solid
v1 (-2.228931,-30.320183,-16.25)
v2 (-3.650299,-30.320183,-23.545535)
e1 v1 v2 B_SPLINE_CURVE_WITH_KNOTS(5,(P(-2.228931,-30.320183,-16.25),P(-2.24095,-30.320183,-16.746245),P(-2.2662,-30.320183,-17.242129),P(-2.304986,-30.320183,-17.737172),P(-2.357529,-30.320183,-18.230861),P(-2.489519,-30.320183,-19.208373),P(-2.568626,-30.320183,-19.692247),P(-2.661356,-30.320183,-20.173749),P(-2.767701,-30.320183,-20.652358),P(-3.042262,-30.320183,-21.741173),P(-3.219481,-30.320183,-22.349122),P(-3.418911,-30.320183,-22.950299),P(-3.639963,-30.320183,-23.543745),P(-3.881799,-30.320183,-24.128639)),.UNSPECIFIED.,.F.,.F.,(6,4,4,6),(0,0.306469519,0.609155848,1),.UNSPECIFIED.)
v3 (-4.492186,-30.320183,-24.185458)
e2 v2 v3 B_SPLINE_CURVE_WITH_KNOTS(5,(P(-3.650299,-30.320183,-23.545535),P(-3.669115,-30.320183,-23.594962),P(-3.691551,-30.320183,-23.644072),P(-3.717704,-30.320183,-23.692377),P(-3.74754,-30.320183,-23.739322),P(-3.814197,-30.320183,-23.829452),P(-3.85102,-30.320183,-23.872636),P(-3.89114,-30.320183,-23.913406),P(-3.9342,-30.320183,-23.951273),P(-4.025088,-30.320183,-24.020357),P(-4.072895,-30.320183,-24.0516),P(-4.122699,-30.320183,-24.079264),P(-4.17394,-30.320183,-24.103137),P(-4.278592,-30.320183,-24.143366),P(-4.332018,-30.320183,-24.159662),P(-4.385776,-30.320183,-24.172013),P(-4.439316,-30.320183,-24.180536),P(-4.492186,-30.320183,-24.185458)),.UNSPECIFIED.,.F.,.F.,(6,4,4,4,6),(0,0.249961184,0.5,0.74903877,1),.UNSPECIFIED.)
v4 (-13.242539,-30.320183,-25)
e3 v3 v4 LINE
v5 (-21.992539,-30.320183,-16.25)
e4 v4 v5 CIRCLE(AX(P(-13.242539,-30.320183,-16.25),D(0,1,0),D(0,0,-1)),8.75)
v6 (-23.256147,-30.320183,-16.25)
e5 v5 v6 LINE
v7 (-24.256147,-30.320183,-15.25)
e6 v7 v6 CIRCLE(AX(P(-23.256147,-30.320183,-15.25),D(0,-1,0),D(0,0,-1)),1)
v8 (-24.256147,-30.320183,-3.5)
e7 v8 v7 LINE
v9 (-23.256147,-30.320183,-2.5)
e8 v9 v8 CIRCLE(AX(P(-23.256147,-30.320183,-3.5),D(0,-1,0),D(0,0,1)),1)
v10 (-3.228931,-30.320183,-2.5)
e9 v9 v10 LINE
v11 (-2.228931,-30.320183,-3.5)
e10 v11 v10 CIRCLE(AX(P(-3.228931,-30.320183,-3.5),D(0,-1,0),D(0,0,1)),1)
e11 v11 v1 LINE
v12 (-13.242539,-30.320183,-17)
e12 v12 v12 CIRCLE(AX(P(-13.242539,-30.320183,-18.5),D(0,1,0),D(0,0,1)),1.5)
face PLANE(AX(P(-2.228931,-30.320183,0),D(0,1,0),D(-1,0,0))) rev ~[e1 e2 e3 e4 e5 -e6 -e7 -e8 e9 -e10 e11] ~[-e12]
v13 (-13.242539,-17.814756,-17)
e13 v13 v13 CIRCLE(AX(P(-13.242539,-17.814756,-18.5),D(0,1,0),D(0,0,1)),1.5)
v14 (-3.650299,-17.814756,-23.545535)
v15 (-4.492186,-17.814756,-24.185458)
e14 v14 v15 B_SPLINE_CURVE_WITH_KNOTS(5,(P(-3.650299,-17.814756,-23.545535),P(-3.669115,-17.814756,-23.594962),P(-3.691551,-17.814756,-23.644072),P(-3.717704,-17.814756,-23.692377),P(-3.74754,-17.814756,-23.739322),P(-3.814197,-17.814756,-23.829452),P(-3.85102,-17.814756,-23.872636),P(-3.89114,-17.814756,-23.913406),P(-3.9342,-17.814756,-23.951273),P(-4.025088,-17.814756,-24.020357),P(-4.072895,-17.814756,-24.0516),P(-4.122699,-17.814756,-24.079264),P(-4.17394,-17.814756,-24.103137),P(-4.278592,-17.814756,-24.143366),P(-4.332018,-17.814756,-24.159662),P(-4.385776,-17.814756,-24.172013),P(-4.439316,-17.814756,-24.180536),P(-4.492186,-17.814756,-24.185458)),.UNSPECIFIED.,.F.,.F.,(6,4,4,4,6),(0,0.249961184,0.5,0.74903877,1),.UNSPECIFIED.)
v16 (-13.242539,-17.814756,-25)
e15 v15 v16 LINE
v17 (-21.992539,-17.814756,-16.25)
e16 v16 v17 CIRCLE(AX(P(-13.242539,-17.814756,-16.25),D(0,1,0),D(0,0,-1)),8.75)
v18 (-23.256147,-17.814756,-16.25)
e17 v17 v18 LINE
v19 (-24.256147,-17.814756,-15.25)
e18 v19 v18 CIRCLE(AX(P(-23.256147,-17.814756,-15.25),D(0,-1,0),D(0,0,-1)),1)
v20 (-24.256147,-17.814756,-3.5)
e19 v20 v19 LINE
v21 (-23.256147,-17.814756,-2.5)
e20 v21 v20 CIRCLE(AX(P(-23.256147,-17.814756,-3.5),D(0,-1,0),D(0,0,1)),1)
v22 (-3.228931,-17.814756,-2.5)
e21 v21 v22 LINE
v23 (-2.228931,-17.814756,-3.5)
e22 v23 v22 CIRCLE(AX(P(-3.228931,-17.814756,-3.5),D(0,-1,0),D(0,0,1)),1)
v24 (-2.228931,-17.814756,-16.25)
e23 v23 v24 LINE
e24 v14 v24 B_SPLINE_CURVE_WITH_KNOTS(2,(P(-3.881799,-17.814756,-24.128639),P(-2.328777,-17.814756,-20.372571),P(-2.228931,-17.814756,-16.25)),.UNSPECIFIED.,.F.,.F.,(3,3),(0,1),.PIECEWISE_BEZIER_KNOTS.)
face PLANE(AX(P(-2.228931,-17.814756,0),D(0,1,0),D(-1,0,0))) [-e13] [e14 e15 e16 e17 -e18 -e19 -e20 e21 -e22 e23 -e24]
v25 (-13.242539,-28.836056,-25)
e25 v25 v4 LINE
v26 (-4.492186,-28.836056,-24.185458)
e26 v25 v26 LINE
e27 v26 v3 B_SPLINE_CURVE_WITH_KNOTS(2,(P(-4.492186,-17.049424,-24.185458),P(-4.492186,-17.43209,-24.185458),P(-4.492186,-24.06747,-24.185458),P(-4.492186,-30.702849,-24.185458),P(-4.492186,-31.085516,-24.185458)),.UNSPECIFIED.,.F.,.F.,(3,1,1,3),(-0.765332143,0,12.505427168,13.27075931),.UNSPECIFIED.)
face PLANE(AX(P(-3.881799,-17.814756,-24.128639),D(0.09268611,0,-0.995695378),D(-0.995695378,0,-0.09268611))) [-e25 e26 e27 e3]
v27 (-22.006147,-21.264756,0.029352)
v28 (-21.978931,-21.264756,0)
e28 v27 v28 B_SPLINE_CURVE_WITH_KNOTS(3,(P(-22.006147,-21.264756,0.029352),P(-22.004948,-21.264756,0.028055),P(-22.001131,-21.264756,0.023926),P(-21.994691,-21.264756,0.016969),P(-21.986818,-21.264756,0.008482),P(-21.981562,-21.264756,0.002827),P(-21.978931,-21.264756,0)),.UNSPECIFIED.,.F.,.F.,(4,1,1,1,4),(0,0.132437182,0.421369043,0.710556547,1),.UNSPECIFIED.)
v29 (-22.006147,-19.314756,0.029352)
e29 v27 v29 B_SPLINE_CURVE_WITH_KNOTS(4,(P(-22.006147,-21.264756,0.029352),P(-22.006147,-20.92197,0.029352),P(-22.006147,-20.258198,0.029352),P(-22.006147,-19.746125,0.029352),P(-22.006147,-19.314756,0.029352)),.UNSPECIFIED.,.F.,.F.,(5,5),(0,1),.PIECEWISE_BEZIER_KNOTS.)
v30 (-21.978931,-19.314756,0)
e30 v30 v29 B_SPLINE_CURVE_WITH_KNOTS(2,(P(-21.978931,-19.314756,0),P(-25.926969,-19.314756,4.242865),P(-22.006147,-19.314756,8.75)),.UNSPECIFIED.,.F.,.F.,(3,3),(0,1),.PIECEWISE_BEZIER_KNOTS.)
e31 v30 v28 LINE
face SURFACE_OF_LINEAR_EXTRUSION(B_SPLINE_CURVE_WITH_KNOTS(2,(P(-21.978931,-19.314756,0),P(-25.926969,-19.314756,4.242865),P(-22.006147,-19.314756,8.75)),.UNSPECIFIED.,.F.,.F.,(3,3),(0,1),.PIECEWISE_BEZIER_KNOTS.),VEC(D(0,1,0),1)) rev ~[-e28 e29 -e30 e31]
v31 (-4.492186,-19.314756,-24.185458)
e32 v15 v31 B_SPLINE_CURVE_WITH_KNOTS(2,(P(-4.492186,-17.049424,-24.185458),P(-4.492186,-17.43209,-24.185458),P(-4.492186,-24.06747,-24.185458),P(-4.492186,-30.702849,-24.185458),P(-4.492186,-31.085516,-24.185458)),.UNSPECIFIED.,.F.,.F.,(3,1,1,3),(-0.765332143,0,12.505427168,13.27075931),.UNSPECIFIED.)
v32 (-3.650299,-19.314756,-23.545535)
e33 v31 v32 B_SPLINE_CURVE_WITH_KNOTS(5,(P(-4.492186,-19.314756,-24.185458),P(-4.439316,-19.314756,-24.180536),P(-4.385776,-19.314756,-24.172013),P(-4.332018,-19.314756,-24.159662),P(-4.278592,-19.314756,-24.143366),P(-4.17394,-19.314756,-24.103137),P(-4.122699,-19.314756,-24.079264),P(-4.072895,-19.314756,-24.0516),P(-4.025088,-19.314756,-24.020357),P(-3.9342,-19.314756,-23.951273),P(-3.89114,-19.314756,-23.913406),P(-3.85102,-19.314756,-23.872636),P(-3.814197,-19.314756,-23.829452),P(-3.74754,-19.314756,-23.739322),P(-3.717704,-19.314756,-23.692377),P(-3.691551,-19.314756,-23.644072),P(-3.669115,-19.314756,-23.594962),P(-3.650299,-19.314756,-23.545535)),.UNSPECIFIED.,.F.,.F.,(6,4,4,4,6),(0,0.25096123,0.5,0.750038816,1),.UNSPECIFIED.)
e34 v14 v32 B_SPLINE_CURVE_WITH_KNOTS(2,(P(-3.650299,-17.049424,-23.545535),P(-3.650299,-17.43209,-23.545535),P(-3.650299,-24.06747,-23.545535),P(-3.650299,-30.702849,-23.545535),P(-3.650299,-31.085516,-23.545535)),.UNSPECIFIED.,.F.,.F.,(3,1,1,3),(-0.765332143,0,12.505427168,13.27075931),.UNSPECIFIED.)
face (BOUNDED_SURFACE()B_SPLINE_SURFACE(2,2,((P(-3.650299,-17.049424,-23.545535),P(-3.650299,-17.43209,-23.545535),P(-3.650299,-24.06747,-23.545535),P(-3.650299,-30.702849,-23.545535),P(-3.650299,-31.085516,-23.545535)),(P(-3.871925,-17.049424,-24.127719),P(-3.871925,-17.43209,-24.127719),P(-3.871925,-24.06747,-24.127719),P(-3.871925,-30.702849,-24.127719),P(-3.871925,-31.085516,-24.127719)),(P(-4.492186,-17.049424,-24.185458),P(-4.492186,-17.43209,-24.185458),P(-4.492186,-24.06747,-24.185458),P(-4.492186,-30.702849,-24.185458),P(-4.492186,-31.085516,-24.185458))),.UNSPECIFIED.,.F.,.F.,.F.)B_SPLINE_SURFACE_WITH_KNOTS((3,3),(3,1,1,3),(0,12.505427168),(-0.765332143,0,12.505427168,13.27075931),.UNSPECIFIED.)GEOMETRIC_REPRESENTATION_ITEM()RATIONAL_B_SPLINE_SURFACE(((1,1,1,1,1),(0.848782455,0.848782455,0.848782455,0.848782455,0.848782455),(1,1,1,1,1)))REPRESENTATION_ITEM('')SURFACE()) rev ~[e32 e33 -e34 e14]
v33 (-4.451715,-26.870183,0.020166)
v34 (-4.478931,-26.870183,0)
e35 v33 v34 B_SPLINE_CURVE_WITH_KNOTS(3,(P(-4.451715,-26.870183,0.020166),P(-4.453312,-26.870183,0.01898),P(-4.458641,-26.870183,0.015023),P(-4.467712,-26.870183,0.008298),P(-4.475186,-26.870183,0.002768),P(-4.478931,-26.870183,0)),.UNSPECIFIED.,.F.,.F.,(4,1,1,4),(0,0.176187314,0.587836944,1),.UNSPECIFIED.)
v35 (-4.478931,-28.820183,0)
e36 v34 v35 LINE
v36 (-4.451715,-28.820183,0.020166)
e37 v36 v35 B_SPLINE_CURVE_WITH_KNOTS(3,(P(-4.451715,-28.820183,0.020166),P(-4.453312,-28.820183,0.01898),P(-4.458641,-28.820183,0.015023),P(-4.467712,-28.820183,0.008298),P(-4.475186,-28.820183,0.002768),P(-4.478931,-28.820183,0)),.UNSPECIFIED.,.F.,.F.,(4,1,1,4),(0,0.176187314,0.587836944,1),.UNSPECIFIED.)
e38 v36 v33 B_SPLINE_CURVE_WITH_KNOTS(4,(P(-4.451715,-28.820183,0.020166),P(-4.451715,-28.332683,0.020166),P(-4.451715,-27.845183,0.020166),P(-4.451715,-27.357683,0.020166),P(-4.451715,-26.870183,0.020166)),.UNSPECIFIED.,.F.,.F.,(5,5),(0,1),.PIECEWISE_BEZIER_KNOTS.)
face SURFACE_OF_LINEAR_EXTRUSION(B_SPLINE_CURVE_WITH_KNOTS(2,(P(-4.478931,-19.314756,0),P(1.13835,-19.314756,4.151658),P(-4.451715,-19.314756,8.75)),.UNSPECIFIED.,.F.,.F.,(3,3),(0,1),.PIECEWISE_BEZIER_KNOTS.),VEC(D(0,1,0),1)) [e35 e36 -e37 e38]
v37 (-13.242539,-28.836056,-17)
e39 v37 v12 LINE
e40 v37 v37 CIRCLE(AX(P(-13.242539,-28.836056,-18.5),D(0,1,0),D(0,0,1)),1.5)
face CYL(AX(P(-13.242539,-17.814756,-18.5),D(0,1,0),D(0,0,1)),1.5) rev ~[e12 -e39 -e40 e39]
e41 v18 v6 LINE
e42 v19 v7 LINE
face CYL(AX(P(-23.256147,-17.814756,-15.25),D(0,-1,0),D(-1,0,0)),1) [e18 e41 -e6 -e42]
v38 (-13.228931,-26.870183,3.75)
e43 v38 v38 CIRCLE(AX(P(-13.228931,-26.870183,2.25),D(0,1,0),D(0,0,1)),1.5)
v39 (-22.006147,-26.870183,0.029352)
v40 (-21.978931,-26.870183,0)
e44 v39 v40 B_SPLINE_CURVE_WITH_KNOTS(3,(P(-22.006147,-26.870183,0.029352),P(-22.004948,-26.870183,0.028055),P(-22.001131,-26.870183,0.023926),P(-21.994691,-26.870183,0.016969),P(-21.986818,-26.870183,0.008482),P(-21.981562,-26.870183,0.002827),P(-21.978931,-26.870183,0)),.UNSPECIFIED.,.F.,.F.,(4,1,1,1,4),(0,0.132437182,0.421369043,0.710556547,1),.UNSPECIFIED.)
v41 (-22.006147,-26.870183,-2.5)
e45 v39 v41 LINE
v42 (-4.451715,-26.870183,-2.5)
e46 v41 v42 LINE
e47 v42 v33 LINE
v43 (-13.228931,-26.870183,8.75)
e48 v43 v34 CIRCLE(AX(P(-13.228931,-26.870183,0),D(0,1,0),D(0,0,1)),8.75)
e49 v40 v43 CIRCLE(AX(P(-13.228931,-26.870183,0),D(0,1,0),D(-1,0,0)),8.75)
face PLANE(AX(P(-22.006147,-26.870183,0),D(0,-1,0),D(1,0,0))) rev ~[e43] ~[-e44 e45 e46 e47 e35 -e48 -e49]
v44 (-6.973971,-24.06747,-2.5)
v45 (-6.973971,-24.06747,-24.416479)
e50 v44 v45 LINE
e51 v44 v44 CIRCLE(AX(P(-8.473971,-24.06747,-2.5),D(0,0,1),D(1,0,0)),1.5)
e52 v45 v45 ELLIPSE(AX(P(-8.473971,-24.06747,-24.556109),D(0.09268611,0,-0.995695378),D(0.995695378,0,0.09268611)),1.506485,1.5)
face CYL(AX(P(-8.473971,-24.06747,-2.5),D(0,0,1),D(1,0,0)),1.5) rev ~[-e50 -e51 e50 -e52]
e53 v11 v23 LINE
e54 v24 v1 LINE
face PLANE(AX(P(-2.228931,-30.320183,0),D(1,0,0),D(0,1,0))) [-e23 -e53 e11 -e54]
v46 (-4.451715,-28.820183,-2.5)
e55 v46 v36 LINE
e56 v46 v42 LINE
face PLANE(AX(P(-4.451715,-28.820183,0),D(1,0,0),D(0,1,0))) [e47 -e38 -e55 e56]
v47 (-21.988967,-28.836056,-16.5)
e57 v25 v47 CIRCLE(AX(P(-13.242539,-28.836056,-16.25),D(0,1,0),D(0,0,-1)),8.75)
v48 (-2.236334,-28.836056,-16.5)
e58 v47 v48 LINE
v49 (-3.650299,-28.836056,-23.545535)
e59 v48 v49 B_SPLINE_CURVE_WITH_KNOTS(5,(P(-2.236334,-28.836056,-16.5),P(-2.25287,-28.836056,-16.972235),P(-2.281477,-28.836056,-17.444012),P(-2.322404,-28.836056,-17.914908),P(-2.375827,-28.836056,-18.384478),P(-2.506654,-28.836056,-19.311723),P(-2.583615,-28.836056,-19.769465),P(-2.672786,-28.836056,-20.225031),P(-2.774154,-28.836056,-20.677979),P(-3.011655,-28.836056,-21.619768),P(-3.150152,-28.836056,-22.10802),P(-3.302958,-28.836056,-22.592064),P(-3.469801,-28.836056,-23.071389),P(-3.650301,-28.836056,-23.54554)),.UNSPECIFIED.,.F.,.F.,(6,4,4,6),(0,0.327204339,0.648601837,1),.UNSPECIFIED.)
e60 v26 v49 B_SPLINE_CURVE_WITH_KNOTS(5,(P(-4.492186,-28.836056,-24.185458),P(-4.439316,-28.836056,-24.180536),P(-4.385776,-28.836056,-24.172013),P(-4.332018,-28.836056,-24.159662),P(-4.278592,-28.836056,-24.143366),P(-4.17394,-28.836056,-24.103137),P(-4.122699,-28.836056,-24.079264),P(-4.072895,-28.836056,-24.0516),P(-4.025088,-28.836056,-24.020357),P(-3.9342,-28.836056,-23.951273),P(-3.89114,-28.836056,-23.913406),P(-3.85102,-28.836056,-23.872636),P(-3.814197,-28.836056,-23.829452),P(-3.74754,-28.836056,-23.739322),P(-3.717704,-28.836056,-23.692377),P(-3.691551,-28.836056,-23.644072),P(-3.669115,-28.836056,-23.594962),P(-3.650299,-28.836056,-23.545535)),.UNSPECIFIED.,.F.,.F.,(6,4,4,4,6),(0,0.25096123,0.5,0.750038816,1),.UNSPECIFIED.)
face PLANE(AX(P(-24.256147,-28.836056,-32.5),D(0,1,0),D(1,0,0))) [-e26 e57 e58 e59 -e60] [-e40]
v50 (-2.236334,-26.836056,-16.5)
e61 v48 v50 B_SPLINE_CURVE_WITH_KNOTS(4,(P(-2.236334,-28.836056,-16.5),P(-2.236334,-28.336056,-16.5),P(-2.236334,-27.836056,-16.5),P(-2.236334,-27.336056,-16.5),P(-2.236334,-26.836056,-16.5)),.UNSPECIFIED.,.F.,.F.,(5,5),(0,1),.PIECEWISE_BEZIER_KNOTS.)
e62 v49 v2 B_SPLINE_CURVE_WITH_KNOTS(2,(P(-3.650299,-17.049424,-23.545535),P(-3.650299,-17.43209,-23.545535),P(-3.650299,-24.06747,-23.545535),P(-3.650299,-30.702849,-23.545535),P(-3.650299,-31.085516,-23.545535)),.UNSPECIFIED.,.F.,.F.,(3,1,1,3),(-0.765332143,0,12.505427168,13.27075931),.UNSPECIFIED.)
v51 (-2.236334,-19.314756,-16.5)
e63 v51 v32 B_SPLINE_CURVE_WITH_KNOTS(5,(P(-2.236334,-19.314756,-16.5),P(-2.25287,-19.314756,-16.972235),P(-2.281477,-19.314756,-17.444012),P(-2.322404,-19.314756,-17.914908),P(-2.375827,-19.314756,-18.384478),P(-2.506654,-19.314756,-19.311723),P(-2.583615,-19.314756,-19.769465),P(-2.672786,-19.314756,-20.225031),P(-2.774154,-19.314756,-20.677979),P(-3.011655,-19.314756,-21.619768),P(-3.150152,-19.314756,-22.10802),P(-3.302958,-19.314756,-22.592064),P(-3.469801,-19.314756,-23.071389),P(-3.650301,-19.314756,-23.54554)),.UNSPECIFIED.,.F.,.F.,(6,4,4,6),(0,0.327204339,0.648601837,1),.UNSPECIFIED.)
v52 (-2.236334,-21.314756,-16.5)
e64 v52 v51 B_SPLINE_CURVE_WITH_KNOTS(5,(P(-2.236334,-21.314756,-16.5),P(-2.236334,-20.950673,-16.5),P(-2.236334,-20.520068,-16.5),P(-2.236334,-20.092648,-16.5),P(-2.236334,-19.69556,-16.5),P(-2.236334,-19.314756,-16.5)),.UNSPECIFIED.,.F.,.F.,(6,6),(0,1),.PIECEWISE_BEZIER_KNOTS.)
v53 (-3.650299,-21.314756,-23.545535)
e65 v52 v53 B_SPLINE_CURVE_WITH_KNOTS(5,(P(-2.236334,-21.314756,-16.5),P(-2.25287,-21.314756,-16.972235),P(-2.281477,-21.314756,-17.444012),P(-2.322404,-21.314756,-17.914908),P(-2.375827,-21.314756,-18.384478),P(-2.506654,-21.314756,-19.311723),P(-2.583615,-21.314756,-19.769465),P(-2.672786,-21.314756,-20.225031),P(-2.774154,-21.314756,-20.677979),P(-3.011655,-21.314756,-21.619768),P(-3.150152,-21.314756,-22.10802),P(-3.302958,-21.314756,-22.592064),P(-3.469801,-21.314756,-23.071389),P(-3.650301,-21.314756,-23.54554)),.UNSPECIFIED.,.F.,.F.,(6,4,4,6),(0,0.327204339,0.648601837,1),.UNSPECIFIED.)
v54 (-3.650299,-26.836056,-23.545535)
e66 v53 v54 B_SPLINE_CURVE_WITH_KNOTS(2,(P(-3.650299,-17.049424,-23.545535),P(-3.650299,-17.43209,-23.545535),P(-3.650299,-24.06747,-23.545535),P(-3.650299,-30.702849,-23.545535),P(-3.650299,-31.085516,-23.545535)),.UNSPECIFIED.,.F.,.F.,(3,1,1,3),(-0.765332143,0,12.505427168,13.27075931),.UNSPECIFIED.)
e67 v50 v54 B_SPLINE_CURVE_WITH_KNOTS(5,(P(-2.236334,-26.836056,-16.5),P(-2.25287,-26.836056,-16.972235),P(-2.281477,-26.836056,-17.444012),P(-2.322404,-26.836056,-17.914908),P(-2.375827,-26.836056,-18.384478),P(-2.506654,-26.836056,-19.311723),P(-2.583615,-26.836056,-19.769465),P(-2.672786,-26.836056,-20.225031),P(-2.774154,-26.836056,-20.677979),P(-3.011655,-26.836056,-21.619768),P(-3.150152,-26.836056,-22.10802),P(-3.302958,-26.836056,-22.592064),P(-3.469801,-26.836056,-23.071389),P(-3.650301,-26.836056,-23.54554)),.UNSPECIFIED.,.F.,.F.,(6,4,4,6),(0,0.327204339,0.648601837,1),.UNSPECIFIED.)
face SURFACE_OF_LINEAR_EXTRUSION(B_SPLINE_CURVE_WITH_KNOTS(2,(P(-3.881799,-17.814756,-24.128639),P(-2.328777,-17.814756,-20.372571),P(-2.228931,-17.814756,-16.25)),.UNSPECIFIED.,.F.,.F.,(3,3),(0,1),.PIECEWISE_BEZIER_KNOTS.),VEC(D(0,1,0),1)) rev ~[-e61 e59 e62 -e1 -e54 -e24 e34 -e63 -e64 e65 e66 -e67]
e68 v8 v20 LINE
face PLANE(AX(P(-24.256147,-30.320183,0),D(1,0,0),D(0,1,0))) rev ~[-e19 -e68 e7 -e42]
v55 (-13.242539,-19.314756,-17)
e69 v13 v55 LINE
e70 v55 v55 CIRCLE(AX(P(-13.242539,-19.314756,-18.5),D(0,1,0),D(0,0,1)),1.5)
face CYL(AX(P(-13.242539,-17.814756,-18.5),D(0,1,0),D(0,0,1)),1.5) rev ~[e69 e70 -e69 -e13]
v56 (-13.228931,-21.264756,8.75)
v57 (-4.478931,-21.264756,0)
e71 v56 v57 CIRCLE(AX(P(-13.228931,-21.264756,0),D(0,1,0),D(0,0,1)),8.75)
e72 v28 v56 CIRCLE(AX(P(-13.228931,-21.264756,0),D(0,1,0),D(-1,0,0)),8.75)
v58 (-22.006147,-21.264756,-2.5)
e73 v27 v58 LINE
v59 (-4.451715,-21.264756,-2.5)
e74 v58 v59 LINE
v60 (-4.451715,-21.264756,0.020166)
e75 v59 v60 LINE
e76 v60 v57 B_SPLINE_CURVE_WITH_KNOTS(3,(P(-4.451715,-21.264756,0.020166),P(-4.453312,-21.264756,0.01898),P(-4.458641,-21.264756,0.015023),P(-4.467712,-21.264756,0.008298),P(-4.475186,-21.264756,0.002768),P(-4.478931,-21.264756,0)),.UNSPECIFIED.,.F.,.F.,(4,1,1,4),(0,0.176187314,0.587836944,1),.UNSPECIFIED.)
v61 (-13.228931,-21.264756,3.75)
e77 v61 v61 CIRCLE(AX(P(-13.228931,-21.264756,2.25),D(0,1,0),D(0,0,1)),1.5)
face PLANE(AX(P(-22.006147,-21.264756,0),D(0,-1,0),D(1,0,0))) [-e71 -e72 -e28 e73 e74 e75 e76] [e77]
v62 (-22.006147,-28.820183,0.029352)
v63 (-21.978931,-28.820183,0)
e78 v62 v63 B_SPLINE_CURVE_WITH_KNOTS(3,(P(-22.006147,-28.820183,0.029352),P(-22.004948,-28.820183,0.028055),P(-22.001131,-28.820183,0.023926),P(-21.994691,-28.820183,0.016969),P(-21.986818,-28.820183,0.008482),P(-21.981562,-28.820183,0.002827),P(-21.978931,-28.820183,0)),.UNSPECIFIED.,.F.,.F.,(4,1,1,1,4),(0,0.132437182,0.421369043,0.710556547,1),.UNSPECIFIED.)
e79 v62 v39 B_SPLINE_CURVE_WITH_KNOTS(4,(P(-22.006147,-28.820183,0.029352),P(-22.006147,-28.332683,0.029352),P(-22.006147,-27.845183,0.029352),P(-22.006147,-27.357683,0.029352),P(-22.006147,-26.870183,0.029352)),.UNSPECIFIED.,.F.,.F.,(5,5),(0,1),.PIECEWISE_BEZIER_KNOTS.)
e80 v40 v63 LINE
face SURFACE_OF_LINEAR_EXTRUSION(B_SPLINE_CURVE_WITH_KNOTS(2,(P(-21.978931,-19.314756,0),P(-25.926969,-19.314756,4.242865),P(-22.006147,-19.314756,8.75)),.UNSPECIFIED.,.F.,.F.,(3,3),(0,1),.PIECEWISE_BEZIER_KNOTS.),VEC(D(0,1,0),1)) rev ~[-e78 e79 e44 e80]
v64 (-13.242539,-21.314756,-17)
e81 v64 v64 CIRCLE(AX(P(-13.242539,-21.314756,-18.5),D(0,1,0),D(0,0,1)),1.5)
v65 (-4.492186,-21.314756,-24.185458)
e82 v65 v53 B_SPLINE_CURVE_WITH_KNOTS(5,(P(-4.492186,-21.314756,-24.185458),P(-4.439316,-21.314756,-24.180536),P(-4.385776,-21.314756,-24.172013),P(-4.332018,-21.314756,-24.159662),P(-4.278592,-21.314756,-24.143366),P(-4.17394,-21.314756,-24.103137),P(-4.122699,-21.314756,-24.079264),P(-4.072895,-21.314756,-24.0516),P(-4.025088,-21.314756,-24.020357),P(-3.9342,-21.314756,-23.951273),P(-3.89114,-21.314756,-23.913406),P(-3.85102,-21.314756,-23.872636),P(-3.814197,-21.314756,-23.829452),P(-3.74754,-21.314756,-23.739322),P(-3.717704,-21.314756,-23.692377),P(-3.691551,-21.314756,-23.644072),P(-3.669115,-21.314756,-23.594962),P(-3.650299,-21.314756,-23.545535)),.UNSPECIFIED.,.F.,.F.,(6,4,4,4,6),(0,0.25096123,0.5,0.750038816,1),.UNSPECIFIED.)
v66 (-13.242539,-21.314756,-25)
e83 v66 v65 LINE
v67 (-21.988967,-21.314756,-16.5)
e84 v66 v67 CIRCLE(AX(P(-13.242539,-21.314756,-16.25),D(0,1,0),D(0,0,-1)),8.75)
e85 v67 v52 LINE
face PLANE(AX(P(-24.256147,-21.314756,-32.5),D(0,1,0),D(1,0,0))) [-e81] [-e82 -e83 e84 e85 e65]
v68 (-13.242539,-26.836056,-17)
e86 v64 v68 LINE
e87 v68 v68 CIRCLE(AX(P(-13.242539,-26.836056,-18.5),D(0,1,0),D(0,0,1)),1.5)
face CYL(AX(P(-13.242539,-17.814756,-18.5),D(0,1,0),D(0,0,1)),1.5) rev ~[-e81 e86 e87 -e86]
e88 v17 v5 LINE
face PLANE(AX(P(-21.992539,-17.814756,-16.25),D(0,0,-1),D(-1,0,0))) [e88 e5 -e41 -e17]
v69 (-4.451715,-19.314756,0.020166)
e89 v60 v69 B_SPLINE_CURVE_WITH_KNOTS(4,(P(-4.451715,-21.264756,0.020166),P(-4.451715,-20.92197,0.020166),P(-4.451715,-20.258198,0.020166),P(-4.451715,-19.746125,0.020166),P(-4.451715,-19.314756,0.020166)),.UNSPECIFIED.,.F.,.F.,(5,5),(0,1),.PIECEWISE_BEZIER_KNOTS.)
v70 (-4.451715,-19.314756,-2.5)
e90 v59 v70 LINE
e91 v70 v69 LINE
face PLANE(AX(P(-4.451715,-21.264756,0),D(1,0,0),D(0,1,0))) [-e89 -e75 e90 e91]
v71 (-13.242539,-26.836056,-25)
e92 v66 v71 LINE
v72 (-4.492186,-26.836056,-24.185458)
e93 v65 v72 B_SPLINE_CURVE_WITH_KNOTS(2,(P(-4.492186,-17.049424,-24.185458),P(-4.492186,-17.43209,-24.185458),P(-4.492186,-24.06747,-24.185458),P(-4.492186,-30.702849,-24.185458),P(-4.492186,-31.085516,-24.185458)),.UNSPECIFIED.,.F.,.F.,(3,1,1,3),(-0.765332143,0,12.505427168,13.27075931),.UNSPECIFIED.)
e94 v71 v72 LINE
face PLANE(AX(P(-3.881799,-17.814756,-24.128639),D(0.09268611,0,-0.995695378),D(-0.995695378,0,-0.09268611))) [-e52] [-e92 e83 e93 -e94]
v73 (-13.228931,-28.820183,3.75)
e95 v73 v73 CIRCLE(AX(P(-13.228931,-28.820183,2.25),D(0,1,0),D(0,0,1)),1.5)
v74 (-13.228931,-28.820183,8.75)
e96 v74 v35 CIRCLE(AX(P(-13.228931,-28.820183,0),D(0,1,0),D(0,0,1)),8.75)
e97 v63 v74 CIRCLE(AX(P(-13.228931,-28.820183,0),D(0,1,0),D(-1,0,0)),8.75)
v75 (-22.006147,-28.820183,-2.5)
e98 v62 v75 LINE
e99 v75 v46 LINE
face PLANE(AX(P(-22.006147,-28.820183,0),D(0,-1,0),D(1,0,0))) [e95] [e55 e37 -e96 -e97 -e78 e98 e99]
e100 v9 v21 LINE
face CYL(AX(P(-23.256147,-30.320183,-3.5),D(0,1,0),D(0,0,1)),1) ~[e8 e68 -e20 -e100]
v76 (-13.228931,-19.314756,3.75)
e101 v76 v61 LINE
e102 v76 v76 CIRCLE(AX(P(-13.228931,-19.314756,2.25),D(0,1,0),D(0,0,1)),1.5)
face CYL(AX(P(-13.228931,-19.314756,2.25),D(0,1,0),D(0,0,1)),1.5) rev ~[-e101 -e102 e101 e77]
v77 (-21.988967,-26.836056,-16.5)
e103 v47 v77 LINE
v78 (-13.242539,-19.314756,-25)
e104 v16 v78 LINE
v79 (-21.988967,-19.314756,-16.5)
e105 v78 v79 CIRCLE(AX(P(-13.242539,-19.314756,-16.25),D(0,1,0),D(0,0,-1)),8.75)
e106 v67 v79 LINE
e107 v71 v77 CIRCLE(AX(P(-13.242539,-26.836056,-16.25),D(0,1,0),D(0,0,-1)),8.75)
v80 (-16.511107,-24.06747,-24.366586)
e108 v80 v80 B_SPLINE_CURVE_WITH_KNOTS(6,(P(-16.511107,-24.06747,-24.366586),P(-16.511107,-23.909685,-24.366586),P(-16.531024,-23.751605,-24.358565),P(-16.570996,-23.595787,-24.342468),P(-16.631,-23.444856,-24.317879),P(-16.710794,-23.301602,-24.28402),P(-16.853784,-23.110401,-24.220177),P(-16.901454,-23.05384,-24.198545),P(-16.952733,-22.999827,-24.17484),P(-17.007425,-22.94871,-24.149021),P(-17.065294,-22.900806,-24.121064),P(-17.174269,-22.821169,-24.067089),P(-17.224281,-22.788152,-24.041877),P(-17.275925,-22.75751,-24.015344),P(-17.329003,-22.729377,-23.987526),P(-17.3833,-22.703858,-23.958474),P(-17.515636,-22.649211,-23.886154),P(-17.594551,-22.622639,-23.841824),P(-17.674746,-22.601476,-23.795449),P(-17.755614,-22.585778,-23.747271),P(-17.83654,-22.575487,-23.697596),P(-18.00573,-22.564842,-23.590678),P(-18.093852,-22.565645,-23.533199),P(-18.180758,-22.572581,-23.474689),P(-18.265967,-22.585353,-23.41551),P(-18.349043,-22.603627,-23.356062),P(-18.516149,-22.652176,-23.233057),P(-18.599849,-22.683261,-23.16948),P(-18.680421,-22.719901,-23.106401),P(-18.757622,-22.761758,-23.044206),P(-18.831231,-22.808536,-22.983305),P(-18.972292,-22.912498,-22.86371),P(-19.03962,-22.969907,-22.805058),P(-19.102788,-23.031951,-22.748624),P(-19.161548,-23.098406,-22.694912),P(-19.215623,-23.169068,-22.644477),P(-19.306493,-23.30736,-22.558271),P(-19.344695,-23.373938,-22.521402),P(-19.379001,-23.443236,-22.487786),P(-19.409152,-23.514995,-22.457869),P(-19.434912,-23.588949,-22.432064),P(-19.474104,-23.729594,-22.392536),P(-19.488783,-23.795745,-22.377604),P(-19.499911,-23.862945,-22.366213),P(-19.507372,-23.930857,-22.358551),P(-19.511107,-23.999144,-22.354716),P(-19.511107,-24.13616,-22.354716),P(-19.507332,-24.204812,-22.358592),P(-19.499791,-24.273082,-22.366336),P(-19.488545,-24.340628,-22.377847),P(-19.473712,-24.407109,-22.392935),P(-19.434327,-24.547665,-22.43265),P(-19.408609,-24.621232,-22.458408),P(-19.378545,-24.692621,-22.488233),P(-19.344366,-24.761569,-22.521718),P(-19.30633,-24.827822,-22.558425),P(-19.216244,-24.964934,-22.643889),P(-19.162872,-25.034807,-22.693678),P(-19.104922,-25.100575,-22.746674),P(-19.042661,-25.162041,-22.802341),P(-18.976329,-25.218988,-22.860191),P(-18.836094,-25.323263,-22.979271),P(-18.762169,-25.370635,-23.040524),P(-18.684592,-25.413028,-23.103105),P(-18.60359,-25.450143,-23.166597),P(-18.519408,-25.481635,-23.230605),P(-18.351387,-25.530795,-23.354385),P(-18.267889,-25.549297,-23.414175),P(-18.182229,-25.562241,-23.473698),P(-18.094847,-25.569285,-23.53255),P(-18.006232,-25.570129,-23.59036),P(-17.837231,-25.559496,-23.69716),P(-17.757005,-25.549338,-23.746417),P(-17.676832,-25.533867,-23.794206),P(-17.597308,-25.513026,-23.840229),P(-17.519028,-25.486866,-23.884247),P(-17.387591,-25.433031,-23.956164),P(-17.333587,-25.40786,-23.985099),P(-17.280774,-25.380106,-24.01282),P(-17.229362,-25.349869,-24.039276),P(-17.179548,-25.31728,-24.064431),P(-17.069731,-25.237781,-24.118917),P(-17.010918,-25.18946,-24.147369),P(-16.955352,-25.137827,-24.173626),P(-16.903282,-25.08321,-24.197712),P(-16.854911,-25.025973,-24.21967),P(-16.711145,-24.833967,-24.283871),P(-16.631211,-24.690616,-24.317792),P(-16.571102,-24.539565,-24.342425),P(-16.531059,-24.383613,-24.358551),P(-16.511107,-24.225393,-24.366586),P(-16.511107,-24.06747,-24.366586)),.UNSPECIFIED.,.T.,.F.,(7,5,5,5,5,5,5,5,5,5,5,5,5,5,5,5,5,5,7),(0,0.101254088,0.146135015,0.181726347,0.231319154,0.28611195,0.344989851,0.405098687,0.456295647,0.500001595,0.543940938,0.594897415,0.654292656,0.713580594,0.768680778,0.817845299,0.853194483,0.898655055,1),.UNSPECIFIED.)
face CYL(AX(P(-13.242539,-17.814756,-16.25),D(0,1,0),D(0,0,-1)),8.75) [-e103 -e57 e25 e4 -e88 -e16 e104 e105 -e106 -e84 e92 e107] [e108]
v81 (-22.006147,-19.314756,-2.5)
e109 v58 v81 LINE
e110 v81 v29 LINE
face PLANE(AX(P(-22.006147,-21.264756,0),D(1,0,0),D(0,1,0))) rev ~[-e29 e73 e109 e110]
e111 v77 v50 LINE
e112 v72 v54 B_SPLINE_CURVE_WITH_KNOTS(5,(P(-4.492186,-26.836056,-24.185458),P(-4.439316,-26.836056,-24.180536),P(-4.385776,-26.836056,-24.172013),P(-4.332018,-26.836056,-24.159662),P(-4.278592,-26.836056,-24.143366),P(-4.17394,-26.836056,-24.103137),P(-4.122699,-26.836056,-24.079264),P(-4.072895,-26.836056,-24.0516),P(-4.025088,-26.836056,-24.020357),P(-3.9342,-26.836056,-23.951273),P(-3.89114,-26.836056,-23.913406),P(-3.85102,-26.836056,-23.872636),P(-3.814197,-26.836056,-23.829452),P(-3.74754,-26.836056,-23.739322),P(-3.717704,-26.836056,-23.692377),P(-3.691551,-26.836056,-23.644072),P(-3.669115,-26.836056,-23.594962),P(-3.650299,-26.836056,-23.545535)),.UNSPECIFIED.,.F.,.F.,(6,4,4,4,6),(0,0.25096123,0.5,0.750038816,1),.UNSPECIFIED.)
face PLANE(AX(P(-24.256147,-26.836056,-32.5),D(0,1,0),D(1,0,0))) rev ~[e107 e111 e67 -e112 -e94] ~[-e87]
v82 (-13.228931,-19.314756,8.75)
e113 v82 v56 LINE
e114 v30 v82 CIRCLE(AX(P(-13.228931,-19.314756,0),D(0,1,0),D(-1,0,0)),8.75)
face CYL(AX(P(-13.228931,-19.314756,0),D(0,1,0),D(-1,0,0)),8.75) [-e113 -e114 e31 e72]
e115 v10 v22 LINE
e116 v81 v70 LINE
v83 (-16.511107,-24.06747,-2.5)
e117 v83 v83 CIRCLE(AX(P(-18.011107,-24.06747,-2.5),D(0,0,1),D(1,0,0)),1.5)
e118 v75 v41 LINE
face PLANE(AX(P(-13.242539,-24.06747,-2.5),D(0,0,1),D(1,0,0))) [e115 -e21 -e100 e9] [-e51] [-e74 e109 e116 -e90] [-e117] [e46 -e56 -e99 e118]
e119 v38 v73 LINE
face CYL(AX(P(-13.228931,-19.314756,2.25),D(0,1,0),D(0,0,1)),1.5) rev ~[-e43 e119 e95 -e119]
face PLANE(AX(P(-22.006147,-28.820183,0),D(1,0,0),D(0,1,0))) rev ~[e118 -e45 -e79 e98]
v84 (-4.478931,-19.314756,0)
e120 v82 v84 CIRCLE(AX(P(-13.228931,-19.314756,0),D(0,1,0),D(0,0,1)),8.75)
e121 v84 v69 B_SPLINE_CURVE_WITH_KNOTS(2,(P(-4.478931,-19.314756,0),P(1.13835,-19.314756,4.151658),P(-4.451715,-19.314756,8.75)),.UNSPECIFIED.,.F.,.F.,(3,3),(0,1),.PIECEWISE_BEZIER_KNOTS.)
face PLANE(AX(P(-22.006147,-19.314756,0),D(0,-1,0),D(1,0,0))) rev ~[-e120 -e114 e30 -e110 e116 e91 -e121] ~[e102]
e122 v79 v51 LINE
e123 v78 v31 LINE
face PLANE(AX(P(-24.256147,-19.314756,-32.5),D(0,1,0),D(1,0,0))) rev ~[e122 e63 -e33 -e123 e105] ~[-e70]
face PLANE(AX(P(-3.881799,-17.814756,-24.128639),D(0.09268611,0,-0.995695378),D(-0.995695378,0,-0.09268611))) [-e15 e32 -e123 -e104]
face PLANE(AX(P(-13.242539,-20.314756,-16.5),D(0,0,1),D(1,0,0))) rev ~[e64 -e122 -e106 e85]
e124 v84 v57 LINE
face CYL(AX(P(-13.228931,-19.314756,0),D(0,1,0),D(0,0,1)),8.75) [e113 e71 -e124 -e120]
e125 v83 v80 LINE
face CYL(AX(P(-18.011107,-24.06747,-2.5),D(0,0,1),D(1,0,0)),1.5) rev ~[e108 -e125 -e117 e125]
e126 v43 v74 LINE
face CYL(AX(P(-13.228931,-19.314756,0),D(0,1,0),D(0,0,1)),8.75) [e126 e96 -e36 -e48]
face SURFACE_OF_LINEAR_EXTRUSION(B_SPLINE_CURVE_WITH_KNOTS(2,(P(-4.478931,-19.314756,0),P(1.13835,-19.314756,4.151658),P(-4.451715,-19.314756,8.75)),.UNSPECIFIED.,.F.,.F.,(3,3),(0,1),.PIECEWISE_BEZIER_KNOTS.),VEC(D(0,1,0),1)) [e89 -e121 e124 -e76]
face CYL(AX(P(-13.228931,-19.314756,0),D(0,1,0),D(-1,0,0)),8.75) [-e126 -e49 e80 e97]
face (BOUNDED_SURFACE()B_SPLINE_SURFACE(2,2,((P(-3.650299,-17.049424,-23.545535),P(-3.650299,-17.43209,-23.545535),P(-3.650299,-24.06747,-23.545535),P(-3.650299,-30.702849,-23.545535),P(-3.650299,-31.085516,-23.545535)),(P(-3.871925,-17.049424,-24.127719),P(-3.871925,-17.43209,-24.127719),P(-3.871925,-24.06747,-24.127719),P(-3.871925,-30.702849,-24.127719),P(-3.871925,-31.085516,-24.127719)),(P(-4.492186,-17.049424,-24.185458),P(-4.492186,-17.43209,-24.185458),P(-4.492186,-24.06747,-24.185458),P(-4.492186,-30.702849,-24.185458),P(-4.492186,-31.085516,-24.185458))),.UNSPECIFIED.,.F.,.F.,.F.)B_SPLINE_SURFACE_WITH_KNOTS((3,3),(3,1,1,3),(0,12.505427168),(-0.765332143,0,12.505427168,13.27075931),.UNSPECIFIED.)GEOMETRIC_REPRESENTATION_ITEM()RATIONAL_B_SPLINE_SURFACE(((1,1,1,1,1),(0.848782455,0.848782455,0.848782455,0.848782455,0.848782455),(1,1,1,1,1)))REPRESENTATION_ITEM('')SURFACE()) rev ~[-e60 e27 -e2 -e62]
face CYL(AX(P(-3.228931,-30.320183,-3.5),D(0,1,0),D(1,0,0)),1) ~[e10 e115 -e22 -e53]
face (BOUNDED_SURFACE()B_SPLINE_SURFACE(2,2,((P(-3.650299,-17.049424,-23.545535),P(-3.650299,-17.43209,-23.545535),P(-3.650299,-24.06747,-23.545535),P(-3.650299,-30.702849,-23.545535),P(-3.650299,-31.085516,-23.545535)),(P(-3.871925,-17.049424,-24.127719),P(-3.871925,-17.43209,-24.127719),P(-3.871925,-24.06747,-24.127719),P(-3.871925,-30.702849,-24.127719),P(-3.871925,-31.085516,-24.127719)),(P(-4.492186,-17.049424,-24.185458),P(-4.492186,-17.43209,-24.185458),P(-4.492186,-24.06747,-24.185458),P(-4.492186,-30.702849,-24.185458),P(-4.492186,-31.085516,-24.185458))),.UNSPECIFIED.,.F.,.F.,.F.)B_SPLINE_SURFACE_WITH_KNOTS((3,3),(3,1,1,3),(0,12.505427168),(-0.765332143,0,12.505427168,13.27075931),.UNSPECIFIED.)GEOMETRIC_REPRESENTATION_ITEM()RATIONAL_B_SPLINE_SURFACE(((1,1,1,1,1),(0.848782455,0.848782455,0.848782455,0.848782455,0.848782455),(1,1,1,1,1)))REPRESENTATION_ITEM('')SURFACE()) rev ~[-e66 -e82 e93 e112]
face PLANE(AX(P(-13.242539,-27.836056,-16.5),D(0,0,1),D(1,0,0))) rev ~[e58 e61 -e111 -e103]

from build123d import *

# Parameters (mm, degrees)
SKETCH2_W             = 17.554431489
SKETCH2_H             = 1.95
BOSS_EXTRUDE1_DEPTH   = 8.75
BOSS_EXTRUDE1_2_DEPTH = 8.75
CUT_EXTRUDE1_DEPTH    = 26.518349076
SKETCH4_W             = 22.027215745
SKETCH4_H             = 12.505427167
BOSS_EXTRUDE2_DEPTH   = 25
SKETCH5_R             = 1.5
CUT_EXTRUDE2_DEPTH    = 12
SKETCH6_W             = 22.027215745
SKETCH6_H             = 12.505427167
SKETCH6_W_2           = 17.554431489
SKETCH6_H_2           = 1.95
CUT_EXTRUDE3_DEPTH    = 2.5
SKETCH7_R             = 1.5
CUT_EXTRUDE4_DEPTH    = 13
SKETCH8_R             = 1.5
CUT_EXTRUDE5_DEPTH    = 28
FILLET3_R             = 1
SKETCH9_W             = 22.02721574
SKETCH9_H             = 2
CUT_EXTRUDE6_DEPTH    = 16


with BuildPart() as part:
    # Sketch2 → Boss-Extrude1 (new body)
    with BuildSketch(Plane.XY):
        with Locations((-13.228930986, -27.845183414)):
            Rectangle(SKETCH2_W, SKETCH2_H)
    extrude(amount=BOSS_EXTRUDE1_DEPTH)


with BuildPart() as body_2:
    # Sketch2 → Boss-Extrude1 2 (new body)
    with BuildSketch(Plane.XY):
        with Locations((-13.228930986, -20.289756247)):
            Rectangle(SKETCH2_W, SKETCH2_H)
    extrude(amount=BOSS_EXTRUDE1_2_DEPTH)


with BuildPart() as cut_extrude1_tool:
    # Sketch3 → Cut-Extrude1 (new, through all)
    with BuildSketch(Plane(origin=(0, -19.314756247, 0), x_dir=(1, 0, 0), z_dir=(0, 1, 0))):
        with BuildLine():
            ThreePointArc((-13.228930986, -8.75), (-7.041746651, -6.187184335), (-4.478930986, 0))
            add(Edge.make_bspline(
                [(-4.478930986, 0), (1.138349918, -4.151657709), (-4.451715242, -8.75)],
                knots=[0, 0, 0, 1, 1, 1], degree=2))
            add(Edge.make_bspline(
                [(-22.006146731, -8.75), (-13.228930986, -12.473510392), (-4.451715242, -8.75)],
                knots=[0, 0, 0, 1, 1, 1], degree=2))
            add(Edge.make_bspline(
                [(-21.978930986, 0), (-25.926969228, -4.242865138), (-22.006146731, -8.75)],
                knots=[0, 0, 0, 1, 1, 1], degree=2))
            ThreePointArc((-21.978930986, 0), (-19.416115322, -6.187184335), (-13.228930986, -8.75))
        make_face()
    extrude(amount=-CUT_EXTRUDE1_DEPTH)


with BuildPart() as part_1:
    add(part.part)

    # Cut-Extrude1: cut by cut_extrude1_tool
    add(cut_extrude1_tool.part, mode=Mode.SUBTRACT)



with BuildPart() as body_2_1:
    add(body_2.part)

    # Cut-Extrude1: cut by cut_extrude1_tool
    add(cut_extrude1_tool.part, mode=Mode.SUBTRACT)


with BuildPart() as part_2:
    add(part_1.part)

    add(body_2_1.part)  # Boss-Extrude2 merges body 2
    # Sketch4 → Boss-Extrude2 (add)
    with BuildSketch(Plane(origin=(0, 0, 0), x_dir=(-1, 0, 0), z_dir=(0, 0, -1))):
        with Locations((13.242538859, -24.067469831)):
            Rectangle(SKETCH4_W, SKETCH4_H)
    extrude(amount=BOSS_EXTRUDE2_DEPTH)

    # Sketch5 → Cut-Extrude2 (cut)
    with BuildSketch(Plane(origin=(0, -19.314756247, 0), x_dir=(1, 0, 0), z_dir=(0, 1, 0))):
        with Locations(Location((-13.228930986, -2.25, 0), (0, 0, 270))):
            Circle(SKETCH5_R)
    extrude(amount=-CUT_EXTRUDE2_DEPTH, mode=Mode.SUBTRACT)

    # Sketch6 → Cut-Extrude3 (cut)
    with BuildSketch(Plane.XY):
        with Locations((-13.242538859, -24.067469831)):
            Rectangle(SKETCH6_W, SKETCH6_H)
        with Locations((-13.228930986, -27.845183414)):
            Rectangle(SKETCH6_W_2, SKETCH6_H_2, mode=Mode.SUBTRACT)
        with Locations((-13.228930986, -20.289756247)):
            Rectangle(SKETCH6_W_2, SKETCH6_H_2, mode=Mode.SUBTRACT)
    extrude(amount=-CUT_EXTRUDE3_DEPTH, mode=Mode.SUBTRACT)

    # Sketch7 → Cut-Extrude4 (cut)
    with BuildSketch(Plane(origin=(0, -17.814756247, 0), x_dir=(1, 0, 0), z_dir=(0, 1, 0))):
        with Locations(Location((-13.242538859, 18.5, 0), (0, 0, 270))):
            Circle(SKETCH7_R)
        with BuildLine():
            Line((-21.992538859, 16.25), (-24.256146731, 16.25))
            add(Edge.make_bspline(
                [(-24.256146731, 16.25), (-34.36884236, 22.178246018), (-14.712267615, 52.032901089), (16.629341759, 22.46378621), (-2.228930986, 16.25)],
                knots=[0, 0, 0, 0, 0.431250879, 1, 1, 1, 1], degree=3))
            add(Edge.make_bspline(
                [(-3.881799271, 24.128638582), (-2.328777172, 20.372571126), (-2.228930986, 16.25)],
                knots=[0, 0, 0, 1, 1, 1], degree=2))
            Line((-3.881799271, 24.128638582), (-13.242538859, 25))
            ThreePointArc((-13.242538859, 25), (-19.429723194, 22.437184335), (-21.992538859, 16.25))
        make_face()
    extrude(amount=-CUT_EXTRUDE4_DEPTH, mode=Mode.SUBTRACT)

    # Sketch8 → Cut-Extrude5 (cut)
    with BuildSketch(Plane.XY.offset(-2.5)):
        with Locations((-18.011106811, -24.06746983)):
            Circle(SKETCH8_R)
        with Locations((-8.473970906, -24.06746983)):
            Circle(SKETCH8_R)
    extrude(amount=-CUT_EXTRUDE5_DEPTH, mode=Mode.SUBTRACT)

    # Fillet3
    fillet3_edges = [part_2.edges().sort_by_distance(p)[0] for p in [
        (-24.256146731, -24.06746983, -2.5),
        (-24.256146731, -24.06746983, -16.25),
        (-2.228930986, -24.06746983, -2.5),
        (-3.881799271, -24.06746983, -24.128638582),
    ]]
    fillet(fillet3_edges, radius=FILLET3_R)

    # Sketch9 → Cut-Extrude6 (cut)
    with BuildSketch(Plane.XY.offset(-32.5)):
        with Locations((-13.24253886, -20.31475625)):
            Rectangle(SKETCH9_W, SKETCH9_H)
        with Locations((-13.24253886, -27.836055834)):
            Rectangle(SKETCH9_W, SKETCH9_H)
    extrude(amount=CUT_EXTRUDE6_DEPTH, mode=Mode.SUBTRACT)


solid = part_2.part
